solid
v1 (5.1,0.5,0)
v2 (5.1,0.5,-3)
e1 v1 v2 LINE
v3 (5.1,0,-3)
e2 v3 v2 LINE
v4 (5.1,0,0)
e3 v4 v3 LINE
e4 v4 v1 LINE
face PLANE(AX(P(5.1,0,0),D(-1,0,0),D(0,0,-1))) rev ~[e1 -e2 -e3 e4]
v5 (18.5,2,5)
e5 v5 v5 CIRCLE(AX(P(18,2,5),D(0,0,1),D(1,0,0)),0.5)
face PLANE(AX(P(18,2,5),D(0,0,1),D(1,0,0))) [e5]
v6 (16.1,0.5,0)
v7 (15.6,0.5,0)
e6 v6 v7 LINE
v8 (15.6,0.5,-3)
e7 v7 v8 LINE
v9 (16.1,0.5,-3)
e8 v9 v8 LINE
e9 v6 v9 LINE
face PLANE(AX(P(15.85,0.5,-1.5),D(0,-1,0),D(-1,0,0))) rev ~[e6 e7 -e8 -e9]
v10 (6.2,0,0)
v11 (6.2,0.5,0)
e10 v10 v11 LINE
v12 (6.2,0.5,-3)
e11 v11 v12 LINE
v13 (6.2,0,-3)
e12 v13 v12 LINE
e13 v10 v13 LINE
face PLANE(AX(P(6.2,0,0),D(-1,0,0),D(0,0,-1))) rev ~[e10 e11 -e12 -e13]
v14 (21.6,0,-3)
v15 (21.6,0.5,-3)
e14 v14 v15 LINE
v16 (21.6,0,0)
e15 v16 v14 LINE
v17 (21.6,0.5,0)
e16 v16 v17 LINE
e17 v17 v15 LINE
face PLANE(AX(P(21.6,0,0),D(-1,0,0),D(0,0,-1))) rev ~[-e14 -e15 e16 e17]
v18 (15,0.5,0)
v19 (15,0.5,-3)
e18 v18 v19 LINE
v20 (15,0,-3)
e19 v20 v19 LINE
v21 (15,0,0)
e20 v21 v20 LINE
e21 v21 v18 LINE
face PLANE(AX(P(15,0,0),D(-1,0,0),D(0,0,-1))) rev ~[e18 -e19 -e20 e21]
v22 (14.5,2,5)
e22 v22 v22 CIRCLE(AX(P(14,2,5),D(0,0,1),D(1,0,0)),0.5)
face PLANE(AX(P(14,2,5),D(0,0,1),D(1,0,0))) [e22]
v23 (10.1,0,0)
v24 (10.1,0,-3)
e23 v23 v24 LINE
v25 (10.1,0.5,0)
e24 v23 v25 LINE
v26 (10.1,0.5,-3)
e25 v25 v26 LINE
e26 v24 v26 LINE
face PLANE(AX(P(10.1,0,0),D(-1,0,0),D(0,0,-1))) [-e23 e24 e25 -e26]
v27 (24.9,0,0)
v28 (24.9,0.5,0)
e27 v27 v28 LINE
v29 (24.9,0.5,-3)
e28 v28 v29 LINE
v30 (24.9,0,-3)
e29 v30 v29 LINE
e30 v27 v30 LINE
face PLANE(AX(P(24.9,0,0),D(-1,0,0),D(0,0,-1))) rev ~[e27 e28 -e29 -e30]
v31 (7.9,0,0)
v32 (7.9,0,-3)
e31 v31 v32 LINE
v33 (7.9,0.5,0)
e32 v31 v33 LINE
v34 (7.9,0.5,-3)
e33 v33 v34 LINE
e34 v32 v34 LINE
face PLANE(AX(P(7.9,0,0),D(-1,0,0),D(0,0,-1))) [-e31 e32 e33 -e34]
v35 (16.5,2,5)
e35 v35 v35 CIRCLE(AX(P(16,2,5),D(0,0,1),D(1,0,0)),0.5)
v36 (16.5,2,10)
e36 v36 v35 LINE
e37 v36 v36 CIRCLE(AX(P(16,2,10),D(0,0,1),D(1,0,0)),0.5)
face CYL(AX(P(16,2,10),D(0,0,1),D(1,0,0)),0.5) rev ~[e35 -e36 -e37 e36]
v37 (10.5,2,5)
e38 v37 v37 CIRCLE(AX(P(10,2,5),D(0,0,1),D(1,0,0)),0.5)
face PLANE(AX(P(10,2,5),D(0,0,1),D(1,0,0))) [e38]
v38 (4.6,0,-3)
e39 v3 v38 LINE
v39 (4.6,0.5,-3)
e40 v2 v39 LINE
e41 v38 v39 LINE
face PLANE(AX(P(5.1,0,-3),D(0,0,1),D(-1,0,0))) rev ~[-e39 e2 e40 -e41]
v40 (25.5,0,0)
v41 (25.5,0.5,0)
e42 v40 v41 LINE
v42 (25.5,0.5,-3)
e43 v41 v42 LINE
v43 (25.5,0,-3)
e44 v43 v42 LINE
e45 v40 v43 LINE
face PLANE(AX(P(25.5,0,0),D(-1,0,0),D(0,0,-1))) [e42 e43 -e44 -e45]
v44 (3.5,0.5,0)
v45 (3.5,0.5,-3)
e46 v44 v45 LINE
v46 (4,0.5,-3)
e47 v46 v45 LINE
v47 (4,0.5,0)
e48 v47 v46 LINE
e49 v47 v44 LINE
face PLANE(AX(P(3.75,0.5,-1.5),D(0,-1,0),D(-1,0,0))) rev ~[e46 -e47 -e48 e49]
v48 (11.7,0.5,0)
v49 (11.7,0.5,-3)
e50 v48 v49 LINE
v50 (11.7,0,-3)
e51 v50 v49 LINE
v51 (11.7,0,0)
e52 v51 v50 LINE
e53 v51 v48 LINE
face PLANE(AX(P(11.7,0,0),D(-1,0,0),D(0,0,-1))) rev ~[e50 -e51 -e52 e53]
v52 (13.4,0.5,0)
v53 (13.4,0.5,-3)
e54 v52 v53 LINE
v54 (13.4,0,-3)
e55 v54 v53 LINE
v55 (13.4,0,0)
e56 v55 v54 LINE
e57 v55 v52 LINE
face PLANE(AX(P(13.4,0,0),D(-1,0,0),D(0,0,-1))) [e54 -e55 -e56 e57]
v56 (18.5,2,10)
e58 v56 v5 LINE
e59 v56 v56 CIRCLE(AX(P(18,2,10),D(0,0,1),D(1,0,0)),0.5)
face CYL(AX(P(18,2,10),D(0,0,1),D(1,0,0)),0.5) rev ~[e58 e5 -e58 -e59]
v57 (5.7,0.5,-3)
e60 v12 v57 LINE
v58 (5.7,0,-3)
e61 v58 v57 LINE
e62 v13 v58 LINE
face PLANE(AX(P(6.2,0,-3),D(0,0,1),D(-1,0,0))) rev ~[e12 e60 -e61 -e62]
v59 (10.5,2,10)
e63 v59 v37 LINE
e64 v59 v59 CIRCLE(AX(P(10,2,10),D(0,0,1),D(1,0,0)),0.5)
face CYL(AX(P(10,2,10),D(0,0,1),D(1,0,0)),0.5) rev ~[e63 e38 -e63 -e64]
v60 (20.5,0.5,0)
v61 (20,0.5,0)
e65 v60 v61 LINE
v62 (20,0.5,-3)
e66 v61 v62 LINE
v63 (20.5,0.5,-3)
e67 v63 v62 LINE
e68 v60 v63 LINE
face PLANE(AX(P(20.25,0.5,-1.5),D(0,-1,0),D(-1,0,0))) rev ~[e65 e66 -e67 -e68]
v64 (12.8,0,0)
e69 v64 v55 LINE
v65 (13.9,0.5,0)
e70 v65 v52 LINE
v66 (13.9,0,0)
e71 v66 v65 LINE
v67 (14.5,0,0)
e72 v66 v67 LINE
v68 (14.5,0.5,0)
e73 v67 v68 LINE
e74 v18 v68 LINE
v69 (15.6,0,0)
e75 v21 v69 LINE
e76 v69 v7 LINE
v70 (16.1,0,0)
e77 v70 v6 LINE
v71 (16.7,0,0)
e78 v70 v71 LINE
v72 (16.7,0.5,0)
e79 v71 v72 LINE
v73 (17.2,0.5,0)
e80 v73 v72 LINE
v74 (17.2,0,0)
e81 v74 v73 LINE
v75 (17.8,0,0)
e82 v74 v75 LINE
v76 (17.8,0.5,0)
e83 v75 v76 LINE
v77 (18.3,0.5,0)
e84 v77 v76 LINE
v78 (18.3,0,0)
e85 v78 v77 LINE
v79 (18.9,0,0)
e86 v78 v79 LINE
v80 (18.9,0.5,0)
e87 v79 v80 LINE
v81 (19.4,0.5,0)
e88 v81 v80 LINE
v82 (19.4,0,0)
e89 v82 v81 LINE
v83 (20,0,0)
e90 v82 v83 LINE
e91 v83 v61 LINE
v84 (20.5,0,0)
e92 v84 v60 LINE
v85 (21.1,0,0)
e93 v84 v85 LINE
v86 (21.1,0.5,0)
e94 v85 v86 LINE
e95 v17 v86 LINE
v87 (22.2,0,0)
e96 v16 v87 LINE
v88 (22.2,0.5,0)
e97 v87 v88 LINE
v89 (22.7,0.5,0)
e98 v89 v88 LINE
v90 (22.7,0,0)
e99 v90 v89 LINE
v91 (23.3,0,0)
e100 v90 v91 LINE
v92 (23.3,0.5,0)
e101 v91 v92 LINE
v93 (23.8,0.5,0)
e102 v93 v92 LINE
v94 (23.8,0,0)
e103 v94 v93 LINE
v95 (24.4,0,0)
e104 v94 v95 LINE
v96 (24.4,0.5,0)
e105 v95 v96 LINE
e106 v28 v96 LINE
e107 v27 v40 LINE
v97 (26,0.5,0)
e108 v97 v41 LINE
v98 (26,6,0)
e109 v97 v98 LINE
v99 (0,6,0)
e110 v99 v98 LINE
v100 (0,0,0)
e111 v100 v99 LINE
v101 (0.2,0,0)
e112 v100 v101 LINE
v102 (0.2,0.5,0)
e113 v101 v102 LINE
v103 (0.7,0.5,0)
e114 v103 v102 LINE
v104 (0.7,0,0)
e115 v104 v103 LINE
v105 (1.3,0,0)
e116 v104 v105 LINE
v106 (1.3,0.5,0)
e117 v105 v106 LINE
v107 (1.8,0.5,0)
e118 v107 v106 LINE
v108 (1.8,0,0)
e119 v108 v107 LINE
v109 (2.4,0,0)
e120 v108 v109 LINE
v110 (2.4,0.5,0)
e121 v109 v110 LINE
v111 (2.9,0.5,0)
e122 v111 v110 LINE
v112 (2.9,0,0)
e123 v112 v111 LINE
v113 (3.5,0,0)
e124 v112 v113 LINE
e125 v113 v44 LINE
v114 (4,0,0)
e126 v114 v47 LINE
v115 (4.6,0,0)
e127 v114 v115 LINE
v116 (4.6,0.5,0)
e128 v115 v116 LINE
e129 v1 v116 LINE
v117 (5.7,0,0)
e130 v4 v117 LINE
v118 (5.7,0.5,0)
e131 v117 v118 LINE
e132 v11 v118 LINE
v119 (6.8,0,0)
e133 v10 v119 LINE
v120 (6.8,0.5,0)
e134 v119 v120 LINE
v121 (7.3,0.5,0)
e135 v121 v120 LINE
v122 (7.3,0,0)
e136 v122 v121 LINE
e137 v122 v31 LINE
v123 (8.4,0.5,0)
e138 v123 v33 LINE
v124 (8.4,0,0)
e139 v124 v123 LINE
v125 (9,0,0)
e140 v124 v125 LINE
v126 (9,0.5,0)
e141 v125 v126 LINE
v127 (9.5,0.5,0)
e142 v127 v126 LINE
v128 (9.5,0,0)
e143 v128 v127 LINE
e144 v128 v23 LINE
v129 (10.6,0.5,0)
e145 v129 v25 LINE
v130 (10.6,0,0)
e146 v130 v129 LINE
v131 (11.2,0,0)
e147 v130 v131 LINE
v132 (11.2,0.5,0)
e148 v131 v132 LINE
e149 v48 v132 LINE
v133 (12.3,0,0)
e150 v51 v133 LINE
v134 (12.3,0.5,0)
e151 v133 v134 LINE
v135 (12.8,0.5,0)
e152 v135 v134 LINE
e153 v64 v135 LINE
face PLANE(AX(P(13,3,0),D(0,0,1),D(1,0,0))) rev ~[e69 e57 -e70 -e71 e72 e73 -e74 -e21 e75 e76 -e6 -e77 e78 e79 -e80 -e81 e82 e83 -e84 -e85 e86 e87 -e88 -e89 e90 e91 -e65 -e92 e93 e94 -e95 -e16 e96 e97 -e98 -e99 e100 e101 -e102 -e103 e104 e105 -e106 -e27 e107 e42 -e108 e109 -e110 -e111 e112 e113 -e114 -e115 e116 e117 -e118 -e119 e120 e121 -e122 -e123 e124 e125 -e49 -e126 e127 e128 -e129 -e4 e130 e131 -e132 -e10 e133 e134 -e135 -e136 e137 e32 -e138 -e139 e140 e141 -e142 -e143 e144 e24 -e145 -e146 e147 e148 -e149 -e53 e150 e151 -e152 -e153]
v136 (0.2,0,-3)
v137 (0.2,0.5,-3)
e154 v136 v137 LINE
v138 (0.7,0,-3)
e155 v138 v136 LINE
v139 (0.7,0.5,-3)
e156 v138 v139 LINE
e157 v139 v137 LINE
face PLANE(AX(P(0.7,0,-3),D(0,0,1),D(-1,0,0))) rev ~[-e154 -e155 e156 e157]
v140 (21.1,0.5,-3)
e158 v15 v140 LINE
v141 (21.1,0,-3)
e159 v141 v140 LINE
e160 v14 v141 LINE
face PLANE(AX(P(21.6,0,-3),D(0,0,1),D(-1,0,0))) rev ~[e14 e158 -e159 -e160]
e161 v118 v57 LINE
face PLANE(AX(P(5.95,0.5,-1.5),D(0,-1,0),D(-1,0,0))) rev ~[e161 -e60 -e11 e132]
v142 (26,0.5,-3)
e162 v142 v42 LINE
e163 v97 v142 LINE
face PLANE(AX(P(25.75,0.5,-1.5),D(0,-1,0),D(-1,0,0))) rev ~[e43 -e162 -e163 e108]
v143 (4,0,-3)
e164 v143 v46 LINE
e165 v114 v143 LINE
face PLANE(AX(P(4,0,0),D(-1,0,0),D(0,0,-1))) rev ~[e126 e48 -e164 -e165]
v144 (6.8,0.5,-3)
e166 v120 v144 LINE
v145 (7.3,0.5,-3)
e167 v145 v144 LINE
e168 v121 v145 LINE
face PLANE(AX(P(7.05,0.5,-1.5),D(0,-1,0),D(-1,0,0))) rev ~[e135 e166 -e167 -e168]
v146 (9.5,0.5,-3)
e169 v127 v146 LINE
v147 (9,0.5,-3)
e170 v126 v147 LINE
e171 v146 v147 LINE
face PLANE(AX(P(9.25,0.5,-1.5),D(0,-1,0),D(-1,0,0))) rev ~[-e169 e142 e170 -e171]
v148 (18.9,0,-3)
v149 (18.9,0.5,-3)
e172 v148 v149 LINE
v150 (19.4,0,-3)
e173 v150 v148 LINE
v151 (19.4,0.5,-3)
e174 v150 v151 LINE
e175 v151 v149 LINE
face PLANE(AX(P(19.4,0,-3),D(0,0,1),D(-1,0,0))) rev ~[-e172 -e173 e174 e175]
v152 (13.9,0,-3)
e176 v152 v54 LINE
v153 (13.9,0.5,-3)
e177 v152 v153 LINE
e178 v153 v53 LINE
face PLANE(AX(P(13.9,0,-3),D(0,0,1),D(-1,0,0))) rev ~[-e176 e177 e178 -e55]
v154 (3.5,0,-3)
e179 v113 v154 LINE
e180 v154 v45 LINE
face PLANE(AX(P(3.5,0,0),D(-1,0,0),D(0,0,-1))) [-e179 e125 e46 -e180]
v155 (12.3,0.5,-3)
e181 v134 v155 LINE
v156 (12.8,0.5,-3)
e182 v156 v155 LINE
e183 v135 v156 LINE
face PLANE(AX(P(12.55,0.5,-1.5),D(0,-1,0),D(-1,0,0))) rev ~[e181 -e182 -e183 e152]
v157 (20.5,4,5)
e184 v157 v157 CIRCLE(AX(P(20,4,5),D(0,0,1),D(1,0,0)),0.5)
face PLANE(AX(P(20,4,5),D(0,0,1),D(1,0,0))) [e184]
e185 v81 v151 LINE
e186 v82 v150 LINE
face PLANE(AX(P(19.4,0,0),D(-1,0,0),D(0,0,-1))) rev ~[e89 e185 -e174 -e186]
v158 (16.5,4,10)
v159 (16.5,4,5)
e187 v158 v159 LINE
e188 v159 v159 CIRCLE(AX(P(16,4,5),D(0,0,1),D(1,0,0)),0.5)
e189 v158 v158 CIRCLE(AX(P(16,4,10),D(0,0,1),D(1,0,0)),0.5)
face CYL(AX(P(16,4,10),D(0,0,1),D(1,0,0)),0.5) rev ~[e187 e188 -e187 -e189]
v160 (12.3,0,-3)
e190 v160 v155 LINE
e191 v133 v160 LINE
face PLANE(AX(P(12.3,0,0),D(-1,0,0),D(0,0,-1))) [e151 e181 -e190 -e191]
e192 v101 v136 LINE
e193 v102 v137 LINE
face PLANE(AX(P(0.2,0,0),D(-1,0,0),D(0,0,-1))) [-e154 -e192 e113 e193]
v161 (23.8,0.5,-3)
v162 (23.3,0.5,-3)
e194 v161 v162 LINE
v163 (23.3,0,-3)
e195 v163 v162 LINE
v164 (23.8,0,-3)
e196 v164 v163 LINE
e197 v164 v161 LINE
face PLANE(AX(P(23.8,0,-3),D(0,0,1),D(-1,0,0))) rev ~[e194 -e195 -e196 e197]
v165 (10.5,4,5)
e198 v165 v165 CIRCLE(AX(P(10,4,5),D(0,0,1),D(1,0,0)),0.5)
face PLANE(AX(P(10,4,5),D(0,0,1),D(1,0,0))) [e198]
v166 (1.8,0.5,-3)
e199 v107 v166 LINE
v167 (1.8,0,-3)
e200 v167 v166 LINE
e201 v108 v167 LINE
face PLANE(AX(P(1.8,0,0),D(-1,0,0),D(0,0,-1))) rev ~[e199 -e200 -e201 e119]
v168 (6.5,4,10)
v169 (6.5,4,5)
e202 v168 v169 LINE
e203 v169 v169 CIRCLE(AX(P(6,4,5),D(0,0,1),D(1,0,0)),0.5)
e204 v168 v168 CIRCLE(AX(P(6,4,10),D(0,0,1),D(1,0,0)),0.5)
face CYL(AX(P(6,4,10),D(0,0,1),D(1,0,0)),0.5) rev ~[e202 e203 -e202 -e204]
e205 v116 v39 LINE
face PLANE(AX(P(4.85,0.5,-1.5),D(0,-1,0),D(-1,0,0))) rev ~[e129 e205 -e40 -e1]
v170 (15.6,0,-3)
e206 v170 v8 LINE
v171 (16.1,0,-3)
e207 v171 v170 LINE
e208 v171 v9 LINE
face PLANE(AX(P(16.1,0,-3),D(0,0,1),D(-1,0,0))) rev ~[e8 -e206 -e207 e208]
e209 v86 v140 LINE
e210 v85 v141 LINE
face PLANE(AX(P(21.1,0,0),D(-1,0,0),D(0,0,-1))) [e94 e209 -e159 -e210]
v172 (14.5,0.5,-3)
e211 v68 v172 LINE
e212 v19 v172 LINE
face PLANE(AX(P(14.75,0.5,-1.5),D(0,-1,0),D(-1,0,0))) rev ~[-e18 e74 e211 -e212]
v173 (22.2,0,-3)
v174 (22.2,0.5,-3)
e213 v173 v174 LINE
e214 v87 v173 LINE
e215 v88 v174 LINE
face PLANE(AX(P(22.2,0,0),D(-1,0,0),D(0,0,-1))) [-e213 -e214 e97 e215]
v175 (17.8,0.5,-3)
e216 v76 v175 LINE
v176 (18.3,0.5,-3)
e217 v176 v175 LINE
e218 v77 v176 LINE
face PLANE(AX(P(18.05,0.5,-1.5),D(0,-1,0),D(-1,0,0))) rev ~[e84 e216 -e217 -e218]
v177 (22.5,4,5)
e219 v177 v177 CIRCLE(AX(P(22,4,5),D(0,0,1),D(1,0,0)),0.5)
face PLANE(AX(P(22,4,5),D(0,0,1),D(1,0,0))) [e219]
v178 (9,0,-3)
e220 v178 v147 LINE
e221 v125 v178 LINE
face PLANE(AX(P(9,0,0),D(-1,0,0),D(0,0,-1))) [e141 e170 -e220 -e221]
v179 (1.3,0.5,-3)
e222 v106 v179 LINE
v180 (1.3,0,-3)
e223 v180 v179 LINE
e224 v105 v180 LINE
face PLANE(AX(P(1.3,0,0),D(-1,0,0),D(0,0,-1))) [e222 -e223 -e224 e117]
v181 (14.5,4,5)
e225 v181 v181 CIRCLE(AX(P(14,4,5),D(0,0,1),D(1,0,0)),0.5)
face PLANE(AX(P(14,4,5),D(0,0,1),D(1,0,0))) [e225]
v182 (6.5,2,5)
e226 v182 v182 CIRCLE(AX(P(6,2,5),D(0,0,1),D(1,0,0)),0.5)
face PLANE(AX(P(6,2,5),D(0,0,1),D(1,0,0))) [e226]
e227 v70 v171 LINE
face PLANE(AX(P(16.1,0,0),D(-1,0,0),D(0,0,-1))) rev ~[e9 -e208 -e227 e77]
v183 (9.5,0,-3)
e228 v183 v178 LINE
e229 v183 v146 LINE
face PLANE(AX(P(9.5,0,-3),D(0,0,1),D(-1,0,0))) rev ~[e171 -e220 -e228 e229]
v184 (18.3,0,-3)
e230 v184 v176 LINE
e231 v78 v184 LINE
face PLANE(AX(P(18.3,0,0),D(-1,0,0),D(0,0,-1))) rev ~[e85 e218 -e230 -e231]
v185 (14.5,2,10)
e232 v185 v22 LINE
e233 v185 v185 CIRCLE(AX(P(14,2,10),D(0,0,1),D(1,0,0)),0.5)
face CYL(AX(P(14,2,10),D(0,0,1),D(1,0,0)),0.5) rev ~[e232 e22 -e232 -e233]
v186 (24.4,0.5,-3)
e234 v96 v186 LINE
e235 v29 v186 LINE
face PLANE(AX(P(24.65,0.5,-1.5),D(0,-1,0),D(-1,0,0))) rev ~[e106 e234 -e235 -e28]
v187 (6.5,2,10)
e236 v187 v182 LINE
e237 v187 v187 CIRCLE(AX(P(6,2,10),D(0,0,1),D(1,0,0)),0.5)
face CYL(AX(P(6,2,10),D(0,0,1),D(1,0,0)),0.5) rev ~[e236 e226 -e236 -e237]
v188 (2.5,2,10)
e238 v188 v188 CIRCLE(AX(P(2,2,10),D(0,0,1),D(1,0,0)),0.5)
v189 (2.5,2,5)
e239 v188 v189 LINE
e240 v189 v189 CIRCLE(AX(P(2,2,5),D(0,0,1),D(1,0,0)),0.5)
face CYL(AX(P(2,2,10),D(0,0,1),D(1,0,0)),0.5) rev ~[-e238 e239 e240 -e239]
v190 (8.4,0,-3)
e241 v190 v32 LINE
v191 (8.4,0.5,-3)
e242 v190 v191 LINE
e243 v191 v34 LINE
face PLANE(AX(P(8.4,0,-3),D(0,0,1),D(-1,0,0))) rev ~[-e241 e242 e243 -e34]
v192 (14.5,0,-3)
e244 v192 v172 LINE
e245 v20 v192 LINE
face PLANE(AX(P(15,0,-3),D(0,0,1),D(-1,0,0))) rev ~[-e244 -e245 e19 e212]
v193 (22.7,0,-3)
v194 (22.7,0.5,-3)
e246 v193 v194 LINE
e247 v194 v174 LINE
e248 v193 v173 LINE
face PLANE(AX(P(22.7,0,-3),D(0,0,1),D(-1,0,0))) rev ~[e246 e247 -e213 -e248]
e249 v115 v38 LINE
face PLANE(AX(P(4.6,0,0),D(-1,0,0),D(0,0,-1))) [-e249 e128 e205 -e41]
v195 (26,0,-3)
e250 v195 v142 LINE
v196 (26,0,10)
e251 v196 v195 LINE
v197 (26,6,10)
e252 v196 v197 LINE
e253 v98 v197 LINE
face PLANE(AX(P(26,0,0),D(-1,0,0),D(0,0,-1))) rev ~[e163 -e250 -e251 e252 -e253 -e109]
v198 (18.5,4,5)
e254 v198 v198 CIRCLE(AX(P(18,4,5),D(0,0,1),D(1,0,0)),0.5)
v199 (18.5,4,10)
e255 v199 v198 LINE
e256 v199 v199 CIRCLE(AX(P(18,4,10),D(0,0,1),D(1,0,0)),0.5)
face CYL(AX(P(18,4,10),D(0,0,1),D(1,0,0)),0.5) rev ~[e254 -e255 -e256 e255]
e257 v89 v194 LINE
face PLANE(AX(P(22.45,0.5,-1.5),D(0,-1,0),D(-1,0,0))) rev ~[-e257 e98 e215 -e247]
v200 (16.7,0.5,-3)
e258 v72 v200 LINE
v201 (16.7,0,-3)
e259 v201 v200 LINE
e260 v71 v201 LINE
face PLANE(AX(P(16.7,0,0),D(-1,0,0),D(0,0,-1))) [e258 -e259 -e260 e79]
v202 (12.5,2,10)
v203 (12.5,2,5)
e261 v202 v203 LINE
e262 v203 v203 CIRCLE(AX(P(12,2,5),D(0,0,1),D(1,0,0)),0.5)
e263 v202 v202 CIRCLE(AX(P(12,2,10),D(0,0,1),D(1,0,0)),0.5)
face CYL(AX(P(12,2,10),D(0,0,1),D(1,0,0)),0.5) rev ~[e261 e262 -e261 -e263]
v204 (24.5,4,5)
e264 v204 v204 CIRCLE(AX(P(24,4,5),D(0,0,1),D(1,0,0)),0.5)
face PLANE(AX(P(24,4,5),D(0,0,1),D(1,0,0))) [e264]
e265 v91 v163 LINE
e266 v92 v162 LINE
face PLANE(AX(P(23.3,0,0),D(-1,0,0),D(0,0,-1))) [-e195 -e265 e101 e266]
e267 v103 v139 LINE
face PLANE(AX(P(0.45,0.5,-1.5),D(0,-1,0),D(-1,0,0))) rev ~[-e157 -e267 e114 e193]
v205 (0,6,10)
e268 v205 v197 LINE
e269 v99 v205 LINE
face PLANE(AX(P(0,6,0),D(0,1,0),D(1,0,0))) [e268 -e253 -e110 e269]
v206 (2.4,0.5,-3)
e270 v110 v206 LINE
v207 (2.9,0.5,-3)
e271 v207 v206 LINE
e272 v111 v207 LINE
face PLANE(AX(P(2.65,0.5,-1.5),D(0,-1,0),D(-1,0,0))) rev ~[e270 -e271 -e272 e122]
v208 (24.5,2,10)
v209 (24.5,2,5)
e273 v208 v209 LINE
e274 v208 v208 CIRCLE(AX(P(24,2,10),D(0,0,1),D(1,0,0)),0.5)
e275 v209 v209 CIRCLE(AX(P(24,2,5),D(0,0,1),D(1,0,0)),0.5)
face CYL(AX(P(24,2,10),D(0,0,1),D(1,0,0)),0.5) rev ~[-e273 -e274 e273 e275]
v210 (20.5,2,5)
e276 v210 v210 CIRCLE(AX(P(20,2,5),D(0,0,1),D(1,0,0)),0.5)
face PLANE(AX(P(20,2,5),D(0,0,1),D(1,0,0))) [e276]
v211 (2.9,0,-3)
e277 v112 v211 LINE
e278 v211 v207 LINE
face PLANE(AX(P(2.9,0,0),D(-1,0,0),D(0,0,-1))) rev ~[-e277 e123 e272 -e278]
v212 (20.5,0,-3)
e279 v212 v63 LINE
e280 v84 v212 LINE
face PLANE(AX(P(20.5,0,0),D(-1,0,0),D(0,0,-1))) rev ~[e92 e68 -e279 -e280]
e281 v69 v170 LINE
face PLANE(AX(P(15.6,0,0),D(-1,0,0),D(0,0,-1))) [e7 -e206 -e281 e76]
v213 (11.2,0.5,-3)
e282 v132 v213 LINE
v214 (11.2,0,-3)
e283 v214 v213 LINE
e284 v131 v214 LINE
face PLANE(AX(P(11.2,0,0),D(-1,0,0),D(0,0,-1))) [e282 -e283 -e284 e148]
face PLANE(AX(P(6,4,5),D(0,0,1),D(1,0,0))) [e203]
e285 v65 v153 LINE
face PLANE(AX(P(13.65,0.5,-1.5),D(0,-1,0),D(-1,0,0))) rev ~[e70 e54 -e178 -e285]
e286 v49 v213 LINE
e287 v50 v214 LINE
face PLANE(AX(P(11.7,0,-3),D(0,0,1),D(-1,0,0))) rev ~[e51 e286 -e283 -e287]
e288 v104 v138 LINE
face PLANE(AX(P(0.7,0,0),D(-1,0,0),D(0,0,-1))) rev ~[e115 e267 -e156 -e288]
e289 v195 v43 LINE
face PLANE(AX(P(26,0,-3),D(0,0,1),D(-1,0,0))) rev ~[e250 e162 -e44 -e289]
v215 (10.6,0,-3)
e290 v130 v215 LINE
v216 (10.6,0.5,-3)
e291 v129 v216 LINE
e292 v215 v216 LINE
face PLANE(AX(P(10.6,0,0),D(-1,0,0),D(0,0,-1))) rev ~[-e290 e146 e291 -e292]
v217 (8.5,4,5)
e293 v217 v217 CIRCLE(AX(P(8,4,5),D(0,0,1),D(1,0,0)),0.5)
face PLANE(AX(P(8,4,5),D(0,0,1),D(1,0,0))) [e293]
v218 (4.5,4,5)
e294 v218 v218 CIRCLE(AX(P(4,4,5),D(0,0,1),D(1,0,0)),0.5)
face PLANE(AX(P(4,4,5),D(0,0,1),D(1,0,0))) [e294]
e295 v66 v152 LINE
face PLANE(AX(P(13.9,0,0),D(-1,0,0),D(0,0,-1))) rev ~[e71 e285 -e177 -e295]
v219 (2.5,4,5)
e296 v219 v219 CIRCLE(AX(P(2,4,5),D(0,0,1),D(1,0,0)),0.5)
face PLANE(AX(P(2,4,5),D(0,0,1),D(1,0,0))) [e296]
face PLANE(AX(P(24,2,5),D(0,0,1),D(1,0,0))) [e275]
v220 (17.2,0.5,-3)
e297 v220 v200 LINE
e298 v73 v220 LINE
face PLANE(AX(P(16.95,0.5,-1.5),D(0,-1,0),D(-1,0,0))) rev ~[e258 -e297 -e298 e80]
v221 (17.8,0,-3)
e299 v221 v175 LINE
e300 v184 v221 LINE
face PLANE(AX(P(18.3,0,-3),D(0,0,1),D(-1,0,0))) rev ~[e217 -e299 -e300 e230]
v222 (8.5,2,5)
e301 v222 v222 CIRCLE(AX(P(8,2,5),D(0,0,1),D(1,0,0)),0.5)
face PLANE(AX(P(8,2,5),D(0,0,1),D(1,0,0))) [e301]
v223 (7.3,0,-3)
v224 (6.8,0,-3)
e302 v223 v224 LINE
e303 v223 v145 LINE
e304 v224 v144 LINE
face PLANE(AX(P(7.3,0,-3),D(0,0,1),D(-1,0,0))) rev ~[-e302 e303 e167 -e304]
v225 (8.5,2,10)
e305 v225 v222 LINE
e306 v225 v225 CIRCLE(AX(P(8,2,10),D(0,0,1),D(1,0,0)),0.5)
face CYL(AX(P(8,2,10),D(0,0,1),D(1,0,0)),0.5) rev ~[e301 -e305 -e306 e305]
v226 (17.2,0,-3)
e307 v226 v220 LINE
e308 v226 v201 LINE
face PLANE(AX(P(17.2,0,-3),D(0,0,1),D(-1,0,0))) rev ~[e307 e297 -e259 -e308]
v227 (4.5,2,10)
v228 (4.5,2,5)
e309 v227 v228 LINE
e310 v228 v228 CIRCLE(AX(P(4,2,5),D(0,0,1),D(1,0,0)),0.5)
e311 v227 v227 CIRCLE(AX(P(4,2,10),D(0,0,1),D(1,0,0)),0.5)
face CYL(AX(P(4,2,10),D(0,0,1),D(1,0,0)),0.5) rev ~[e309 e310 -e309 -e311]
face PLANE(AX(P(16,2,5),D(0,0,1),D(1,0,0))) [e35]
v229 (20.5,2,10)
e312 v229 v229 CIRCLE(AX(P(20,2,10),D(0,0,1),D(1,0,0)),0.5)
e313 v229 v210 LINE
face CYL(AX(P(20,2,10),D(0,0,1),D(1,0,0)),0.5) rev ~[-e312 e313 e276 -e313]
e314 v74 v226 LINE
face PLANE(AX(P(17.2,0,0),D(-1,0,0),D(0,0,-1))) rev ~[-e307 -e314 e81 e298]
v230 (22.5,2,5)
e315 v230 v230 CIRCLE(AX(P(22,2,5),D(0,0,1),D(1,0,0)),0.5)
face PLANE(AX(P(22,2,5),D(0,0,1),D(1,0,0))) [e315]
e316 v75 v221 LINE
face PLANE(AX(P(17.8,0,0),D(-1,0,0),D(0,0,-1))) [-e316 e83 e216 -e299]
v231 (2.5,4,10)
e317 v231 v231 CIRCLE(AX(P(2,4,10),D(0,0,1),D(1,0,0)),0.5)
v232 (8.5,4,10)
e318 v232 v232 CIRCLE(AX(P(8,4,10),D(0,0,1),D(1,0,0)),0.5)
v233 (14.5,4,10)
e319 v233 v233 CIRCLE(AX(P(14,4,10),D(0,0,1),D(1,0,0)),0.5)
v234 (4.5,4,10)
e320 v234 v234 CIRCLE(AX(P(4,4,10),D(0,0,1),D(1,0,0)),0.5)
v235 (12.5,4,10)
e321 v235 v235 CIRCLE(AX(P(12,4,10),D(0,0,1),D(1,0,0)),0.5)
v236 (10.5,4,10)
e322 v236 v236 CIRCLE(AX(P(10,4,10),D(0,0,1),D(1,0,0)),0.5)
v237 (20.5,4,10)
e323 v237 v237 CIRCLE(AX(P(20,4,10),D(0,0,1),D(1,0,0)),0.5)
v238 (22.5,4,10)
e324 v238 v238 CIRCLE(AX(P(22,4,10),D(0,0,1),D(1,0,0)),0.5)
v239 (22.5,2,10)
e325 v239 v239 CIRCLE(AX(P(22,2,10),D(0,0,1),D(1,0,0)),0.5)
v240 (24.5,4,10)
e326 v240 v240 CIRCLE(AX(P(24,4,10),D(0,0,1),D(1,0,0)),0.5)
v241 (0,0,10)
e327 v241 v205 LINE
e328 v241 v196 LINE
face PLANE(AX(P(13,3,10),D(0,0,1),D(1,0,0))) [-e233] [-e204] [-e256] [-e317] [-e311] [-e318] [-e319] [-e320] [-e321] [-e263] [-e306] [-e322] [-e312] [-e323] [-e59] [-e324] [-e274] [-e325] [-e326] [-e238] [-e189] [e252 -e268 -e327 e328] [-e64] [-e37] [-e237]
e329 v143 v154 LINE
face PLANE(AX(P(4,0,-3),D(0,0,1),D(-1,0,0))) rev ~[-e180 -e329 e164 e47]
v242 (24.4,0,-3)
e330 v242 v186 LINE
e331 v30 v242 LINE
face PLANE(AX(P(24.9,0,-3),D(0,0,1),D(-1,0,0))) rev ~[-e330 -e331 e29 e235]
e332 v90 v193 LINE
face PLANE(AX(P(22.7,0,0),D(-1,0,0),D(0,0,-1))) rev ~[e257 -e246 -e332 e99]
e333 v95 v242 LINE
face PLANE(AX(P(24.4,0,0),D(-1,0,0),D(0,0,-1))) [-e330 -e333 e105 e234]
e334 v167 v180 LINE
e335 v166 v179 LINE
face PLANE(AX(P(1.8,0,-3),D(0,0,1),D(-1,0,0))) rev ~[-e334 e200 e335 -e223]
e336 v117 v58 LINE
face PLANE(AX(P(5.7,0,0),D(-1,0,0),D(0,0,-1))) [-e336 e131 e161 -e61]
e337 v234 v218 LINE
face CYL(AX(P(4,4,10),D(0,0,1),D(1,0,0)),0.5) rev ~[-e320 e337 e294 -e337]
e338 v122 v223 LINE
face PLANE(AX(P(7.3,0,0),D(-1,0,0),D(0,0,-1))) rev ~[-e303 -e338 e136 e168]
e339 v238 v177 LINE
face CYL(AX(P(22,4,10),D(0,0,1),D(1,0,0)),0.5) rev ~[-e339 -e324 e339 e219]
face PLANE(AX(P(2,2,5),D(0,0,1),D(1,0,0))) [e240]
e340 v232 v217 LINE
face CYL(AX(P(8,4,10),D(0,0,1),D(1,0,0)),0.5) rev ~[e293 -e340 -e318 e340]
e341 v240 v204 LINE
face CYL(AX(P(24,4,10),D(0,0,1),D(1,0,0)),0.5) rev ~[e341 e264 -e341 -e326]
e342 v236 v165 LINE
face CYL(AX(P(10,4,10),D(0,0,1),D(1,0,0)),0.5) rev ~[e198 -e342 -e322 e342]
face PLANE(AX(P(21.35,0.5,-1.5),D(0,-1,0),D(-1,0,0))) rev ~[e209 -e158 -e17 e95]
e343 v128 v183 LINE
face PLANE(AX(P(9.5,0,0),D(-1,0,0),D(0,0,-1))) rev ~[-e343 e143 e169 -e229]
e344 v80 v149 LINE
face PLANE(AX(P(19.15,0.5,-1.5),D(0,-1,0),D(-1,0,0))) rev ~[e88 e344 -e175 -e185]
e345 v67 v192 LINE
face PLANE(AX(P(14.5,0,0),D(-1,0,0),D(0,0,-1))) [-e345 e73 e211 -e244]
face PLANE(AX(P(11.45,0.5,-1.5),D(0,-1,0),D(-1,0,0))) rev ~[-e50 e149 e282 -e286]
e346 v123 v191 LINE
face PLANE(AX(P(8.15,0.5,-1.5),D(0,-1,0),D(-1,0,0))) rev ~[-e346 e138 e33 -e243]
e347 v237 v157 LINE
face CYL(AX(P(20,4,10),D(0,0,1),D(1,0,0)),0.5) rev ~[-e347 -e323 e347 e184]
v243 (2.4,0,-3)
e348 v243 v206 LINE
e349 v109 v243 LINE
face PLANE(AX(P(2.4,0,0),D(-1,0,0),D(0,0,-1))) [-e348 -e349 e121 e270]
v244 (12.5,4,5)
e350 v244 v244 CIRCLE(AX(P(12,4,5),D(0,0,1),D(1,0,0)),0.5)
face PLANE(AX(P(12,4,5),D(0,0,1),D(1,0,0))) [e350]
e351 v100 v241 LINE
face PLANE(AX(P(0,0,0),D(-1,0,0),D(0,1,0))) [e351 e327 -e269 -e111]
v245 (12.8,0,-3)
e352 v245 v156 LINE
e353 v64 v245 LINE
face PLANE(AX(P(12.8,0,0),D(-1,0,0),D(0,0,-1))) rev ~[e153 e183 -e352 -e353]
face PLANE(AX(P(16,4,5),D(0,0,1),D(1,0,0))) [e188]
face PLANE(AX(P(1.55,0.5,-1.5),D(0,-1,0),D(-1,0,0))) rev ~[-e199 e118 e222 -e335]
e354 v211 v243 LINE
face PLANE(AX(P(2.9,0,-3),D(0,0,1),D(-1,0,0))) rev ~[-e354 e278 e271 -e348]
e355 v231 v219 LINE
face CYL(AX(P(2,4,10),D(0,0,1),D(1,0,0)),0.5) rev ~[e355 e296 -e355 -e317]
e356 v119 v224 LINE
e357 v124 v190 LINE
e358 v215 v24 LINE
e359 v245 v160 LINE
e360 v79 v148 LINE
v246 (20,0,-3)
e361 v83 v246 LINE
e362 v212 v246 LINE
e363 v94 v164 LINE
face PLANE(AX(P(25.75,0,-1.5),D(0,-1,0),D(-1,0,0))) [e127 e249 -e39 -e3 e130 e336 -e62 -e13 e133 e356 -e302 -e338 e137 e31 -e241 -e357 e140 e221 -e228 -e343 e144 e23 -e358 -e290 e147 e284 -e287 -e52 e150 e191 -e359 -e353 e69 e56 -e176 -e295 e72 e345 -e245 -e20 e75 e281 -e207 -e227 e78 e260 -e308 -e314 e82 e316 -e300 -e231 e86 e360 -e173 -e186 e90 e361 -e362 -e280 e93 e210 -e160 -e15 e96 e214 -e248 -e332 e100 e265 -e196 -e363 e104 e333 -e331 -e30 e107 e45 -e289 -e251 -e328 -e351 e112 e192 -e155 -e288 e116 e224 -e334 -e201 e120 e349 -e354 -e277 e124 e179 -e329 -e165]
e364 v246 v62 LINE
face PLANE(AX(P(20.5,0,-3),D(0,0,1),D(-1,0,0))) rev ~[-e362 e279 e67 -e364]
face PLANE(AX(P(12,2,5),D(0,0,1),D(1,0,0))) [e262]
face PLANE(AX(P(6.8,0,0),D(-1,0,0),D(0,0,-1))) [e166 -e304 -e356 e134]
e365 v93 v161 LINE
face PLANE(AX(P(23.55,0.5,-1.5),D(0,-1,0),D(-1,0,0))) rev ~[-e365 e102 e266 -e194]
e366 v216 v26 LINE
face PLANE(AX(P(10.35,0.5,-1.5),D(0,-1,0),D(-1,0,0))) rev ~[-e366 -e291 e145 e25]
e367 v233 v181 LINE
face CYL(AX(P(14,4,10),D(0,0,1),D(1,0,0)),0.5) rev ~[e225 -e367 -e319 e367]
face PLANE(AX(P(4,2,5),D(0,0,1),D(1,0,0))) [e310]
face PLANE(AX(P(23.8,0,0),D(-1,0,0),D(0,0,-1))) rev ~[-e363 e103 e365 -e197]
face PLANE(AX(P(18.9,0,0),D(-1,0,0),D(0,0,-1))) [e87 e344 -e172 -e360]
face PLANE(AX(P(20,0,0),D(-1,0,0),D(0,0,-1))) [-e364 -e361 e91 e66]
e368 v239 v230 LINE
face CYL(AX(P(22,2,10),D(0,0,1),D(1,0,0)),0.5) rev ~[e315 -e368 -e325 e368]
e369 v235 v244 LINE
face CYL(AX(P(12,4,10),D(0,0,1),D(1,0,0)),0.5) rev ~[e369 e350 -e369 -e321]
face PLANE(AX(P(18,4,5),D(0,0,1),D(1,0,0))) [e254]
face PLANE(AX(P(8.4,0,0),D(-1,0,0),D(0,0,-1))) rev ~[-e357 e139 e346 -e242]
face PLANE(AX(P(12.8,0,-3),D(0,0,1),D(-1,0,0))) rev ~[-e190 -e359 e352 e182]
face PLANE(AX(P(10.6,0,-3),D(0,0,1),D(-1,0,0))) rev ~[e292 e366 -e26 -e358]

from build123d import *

# Parameters (mm, degrees)
SKETCH2_W           = 26
SKETCH2_H           = 6
BOSS_EXTRUDE1_DEPTH = 10
SKETCH3_R           = 0.5
CUT_EXTRUDE1_DEPTH  = 5
SKETCH4_W           = 0.5
SKETCH4_H           = 3
BOSS_EXTRUDE2_DEPTH = 0.5


with BuildPart() as part:
    # Sketch2 → Boss-Extrude1 (new body)
    with BuildSketch(Plane.XY):
        with Locations((13, 3)):
            Rectangle(SKETCH2_W, SKETCH2_H)
    extrude(amount=BOSS_EXTRUDE1_DEPTH)

    # Sketch3 → Cut-Extrude1 (cut)
    with BuildSketch(Plane.XY.offset(10)):
        with Locations((2, 2)):
            Circle(SKETCH3_R)
        with Locations((4, 2)):
            Circle(SKETCH3_R)
        with Locations((6, 2)):
            Circle(SKETCH3_R)
        with Locations((8, 2)):
            Circle(SKETCH3_R)
        with Locations((10, 2)):
            Circle(SKETCH3_R)
        with Locations((12, 2)):
            Circle(SKETCH3_R)
        with Locations((14, 2)):
            Circle(SKETCH3_R)
        with Locations((16, 2)):
            Circle(SKETCH3_R)
        with Locations((18, 2)):
            Circle(SKETCH3_R)
        with Locations((20, 2)):
            Circle(SKETCH3_R)
        with Locations((22, 2)):
            Circle(SKETCH3_R)
        with Locations((24, 2)):
            Circle(SKETCH3_R)
        with Locations((24, 4)):
            Circle(SKETCH3_R)
        with Locations((22, 4)):
            Circle(SKETCH3_R)
        with Locations((20, 4)):
            Circle(SKETCH3_R)
        with Locations((18, 4)):
            Circle(SKETCH3_R)
        with Locations((16, 4)):
            Circle(SKETCH3_R)
        with Locations((14, 4)):
            Circle(SKETCH3_R)
        with Locations((12, 4)):
            Circle(SKETCH3_R)
        with Locations((10, 4)):
            Circle(SKETCH3_R)
        with Locations((8, 4)):
            Circle(SKETCH3_R)
        with Locations((6, 4)):
            Circle(SKETCH3_R)
        with Locations((4, 4)):
            Circle(SKETCH3_R)
        with Locations((2, 4)):
            Circle(SKETCH3_R)
    extrude(amount=-CUT_EXTRUDE1_DEPTH, mode=Mode.SUBTRACT)

    # Sketch4 → Boss-Extrude2 (add)
    with BuildSketch(Plane(origin=(0, 0, 0), x_dir=(-1, 0, 0), z_dir=(0, -1, 0))):
        with Locations((-24.65, 1.5)):
            Rectangle(SKETCH4_W, SKETCH4_H)
        with Locations((-25.75, 1.5)):
            Rectangle(SKETCH4_W, SKETCH4_H)
        with Locations((-23.55, 1.5)):
            Rectangle(SKETCH4_W, SKETCH4_H)
        with Locations((-22.45, 1.5)):
            Rectangle(SKETCH4_W, SKETCH4_H)
        with Locations((-21.35, 1.5)):
            Rectangle(SKETCH4_W, SKETCH4_H)
        with Locations((-20.25, 1.5)):
            Rectangle(SKETCH4_W, SKETCH4_H)
        with Locations((-19.15, 1.5)):
            Rectangle(SKETCH4_W, SKETCH4_H)
        with Locations((-18.05, 1.5)):
            Rectangle(SKETCH4_W, SKETCH4_H)
        with Locations((-16.95, 1.5)):
            Rectangle(SKETCH4_W, SKETCH4_H)
        with Locations((-15.85, 1.5)):
            Rectangle(SKETCH4_W, SKETCH4_H)
        with Locations((-14.75, 1.5)):
            Rectangle(SKETCH4_W, SKETCH4_H)
        with Locations((-13.65, 1.5)):
            Rectangle(SKETCH4_W, SKETCH4_H)
        with Locations((-12.55, 1.5)):
            Rectangle(SKETCH4_W, SKETCH4_H)
        with Locations((-11.45, 1.5)):
            Rectangle(SKETCH4_W, SKETCH4_H)
        with Locations((-10.35, 1.5)):
            Rectangle(SKETCH4_W, SKETCH4_H)
        with Locations((-9.25, 1.5)):
            Rectangle(SKETCH4_W, SKETCH4_H)
        with Locations((-8.15, 1.5)):
            Rectangle(SKETCH4_W, SKETCH4_H)
        with Locations((-7.05, 1.5)):
            Rectangle(SKETCH4_W, SKETCH4_H)
        with Locations((-5.95, 1.5)):
            Rectangle(SKETCH4_W, SKETCH4_H)
        with Locations((-4.85, 1.5)):
            Rectangle(SKETCH4_W, SKETCH4_H)
        with Locations((-3.75, 1.5)):
            Rectangle(SKETCH4_W, SKETCH4_H)
        with Locations((-2.65, 1.5)):
            Rectangle(SKETCH4_W, SKETCH4_H)
        with Locations((-1.55, 1.5)):
            Rectangle(SKETCH4_W, SKETCH4_H)
        with Locations((-0.45, 1.5)):
            Rectangle(SKETCH4_W, SKETCH4_H)
    extrude(amount=-BOSS_EXTRUDE2_DEPTH)


solid = part.part
